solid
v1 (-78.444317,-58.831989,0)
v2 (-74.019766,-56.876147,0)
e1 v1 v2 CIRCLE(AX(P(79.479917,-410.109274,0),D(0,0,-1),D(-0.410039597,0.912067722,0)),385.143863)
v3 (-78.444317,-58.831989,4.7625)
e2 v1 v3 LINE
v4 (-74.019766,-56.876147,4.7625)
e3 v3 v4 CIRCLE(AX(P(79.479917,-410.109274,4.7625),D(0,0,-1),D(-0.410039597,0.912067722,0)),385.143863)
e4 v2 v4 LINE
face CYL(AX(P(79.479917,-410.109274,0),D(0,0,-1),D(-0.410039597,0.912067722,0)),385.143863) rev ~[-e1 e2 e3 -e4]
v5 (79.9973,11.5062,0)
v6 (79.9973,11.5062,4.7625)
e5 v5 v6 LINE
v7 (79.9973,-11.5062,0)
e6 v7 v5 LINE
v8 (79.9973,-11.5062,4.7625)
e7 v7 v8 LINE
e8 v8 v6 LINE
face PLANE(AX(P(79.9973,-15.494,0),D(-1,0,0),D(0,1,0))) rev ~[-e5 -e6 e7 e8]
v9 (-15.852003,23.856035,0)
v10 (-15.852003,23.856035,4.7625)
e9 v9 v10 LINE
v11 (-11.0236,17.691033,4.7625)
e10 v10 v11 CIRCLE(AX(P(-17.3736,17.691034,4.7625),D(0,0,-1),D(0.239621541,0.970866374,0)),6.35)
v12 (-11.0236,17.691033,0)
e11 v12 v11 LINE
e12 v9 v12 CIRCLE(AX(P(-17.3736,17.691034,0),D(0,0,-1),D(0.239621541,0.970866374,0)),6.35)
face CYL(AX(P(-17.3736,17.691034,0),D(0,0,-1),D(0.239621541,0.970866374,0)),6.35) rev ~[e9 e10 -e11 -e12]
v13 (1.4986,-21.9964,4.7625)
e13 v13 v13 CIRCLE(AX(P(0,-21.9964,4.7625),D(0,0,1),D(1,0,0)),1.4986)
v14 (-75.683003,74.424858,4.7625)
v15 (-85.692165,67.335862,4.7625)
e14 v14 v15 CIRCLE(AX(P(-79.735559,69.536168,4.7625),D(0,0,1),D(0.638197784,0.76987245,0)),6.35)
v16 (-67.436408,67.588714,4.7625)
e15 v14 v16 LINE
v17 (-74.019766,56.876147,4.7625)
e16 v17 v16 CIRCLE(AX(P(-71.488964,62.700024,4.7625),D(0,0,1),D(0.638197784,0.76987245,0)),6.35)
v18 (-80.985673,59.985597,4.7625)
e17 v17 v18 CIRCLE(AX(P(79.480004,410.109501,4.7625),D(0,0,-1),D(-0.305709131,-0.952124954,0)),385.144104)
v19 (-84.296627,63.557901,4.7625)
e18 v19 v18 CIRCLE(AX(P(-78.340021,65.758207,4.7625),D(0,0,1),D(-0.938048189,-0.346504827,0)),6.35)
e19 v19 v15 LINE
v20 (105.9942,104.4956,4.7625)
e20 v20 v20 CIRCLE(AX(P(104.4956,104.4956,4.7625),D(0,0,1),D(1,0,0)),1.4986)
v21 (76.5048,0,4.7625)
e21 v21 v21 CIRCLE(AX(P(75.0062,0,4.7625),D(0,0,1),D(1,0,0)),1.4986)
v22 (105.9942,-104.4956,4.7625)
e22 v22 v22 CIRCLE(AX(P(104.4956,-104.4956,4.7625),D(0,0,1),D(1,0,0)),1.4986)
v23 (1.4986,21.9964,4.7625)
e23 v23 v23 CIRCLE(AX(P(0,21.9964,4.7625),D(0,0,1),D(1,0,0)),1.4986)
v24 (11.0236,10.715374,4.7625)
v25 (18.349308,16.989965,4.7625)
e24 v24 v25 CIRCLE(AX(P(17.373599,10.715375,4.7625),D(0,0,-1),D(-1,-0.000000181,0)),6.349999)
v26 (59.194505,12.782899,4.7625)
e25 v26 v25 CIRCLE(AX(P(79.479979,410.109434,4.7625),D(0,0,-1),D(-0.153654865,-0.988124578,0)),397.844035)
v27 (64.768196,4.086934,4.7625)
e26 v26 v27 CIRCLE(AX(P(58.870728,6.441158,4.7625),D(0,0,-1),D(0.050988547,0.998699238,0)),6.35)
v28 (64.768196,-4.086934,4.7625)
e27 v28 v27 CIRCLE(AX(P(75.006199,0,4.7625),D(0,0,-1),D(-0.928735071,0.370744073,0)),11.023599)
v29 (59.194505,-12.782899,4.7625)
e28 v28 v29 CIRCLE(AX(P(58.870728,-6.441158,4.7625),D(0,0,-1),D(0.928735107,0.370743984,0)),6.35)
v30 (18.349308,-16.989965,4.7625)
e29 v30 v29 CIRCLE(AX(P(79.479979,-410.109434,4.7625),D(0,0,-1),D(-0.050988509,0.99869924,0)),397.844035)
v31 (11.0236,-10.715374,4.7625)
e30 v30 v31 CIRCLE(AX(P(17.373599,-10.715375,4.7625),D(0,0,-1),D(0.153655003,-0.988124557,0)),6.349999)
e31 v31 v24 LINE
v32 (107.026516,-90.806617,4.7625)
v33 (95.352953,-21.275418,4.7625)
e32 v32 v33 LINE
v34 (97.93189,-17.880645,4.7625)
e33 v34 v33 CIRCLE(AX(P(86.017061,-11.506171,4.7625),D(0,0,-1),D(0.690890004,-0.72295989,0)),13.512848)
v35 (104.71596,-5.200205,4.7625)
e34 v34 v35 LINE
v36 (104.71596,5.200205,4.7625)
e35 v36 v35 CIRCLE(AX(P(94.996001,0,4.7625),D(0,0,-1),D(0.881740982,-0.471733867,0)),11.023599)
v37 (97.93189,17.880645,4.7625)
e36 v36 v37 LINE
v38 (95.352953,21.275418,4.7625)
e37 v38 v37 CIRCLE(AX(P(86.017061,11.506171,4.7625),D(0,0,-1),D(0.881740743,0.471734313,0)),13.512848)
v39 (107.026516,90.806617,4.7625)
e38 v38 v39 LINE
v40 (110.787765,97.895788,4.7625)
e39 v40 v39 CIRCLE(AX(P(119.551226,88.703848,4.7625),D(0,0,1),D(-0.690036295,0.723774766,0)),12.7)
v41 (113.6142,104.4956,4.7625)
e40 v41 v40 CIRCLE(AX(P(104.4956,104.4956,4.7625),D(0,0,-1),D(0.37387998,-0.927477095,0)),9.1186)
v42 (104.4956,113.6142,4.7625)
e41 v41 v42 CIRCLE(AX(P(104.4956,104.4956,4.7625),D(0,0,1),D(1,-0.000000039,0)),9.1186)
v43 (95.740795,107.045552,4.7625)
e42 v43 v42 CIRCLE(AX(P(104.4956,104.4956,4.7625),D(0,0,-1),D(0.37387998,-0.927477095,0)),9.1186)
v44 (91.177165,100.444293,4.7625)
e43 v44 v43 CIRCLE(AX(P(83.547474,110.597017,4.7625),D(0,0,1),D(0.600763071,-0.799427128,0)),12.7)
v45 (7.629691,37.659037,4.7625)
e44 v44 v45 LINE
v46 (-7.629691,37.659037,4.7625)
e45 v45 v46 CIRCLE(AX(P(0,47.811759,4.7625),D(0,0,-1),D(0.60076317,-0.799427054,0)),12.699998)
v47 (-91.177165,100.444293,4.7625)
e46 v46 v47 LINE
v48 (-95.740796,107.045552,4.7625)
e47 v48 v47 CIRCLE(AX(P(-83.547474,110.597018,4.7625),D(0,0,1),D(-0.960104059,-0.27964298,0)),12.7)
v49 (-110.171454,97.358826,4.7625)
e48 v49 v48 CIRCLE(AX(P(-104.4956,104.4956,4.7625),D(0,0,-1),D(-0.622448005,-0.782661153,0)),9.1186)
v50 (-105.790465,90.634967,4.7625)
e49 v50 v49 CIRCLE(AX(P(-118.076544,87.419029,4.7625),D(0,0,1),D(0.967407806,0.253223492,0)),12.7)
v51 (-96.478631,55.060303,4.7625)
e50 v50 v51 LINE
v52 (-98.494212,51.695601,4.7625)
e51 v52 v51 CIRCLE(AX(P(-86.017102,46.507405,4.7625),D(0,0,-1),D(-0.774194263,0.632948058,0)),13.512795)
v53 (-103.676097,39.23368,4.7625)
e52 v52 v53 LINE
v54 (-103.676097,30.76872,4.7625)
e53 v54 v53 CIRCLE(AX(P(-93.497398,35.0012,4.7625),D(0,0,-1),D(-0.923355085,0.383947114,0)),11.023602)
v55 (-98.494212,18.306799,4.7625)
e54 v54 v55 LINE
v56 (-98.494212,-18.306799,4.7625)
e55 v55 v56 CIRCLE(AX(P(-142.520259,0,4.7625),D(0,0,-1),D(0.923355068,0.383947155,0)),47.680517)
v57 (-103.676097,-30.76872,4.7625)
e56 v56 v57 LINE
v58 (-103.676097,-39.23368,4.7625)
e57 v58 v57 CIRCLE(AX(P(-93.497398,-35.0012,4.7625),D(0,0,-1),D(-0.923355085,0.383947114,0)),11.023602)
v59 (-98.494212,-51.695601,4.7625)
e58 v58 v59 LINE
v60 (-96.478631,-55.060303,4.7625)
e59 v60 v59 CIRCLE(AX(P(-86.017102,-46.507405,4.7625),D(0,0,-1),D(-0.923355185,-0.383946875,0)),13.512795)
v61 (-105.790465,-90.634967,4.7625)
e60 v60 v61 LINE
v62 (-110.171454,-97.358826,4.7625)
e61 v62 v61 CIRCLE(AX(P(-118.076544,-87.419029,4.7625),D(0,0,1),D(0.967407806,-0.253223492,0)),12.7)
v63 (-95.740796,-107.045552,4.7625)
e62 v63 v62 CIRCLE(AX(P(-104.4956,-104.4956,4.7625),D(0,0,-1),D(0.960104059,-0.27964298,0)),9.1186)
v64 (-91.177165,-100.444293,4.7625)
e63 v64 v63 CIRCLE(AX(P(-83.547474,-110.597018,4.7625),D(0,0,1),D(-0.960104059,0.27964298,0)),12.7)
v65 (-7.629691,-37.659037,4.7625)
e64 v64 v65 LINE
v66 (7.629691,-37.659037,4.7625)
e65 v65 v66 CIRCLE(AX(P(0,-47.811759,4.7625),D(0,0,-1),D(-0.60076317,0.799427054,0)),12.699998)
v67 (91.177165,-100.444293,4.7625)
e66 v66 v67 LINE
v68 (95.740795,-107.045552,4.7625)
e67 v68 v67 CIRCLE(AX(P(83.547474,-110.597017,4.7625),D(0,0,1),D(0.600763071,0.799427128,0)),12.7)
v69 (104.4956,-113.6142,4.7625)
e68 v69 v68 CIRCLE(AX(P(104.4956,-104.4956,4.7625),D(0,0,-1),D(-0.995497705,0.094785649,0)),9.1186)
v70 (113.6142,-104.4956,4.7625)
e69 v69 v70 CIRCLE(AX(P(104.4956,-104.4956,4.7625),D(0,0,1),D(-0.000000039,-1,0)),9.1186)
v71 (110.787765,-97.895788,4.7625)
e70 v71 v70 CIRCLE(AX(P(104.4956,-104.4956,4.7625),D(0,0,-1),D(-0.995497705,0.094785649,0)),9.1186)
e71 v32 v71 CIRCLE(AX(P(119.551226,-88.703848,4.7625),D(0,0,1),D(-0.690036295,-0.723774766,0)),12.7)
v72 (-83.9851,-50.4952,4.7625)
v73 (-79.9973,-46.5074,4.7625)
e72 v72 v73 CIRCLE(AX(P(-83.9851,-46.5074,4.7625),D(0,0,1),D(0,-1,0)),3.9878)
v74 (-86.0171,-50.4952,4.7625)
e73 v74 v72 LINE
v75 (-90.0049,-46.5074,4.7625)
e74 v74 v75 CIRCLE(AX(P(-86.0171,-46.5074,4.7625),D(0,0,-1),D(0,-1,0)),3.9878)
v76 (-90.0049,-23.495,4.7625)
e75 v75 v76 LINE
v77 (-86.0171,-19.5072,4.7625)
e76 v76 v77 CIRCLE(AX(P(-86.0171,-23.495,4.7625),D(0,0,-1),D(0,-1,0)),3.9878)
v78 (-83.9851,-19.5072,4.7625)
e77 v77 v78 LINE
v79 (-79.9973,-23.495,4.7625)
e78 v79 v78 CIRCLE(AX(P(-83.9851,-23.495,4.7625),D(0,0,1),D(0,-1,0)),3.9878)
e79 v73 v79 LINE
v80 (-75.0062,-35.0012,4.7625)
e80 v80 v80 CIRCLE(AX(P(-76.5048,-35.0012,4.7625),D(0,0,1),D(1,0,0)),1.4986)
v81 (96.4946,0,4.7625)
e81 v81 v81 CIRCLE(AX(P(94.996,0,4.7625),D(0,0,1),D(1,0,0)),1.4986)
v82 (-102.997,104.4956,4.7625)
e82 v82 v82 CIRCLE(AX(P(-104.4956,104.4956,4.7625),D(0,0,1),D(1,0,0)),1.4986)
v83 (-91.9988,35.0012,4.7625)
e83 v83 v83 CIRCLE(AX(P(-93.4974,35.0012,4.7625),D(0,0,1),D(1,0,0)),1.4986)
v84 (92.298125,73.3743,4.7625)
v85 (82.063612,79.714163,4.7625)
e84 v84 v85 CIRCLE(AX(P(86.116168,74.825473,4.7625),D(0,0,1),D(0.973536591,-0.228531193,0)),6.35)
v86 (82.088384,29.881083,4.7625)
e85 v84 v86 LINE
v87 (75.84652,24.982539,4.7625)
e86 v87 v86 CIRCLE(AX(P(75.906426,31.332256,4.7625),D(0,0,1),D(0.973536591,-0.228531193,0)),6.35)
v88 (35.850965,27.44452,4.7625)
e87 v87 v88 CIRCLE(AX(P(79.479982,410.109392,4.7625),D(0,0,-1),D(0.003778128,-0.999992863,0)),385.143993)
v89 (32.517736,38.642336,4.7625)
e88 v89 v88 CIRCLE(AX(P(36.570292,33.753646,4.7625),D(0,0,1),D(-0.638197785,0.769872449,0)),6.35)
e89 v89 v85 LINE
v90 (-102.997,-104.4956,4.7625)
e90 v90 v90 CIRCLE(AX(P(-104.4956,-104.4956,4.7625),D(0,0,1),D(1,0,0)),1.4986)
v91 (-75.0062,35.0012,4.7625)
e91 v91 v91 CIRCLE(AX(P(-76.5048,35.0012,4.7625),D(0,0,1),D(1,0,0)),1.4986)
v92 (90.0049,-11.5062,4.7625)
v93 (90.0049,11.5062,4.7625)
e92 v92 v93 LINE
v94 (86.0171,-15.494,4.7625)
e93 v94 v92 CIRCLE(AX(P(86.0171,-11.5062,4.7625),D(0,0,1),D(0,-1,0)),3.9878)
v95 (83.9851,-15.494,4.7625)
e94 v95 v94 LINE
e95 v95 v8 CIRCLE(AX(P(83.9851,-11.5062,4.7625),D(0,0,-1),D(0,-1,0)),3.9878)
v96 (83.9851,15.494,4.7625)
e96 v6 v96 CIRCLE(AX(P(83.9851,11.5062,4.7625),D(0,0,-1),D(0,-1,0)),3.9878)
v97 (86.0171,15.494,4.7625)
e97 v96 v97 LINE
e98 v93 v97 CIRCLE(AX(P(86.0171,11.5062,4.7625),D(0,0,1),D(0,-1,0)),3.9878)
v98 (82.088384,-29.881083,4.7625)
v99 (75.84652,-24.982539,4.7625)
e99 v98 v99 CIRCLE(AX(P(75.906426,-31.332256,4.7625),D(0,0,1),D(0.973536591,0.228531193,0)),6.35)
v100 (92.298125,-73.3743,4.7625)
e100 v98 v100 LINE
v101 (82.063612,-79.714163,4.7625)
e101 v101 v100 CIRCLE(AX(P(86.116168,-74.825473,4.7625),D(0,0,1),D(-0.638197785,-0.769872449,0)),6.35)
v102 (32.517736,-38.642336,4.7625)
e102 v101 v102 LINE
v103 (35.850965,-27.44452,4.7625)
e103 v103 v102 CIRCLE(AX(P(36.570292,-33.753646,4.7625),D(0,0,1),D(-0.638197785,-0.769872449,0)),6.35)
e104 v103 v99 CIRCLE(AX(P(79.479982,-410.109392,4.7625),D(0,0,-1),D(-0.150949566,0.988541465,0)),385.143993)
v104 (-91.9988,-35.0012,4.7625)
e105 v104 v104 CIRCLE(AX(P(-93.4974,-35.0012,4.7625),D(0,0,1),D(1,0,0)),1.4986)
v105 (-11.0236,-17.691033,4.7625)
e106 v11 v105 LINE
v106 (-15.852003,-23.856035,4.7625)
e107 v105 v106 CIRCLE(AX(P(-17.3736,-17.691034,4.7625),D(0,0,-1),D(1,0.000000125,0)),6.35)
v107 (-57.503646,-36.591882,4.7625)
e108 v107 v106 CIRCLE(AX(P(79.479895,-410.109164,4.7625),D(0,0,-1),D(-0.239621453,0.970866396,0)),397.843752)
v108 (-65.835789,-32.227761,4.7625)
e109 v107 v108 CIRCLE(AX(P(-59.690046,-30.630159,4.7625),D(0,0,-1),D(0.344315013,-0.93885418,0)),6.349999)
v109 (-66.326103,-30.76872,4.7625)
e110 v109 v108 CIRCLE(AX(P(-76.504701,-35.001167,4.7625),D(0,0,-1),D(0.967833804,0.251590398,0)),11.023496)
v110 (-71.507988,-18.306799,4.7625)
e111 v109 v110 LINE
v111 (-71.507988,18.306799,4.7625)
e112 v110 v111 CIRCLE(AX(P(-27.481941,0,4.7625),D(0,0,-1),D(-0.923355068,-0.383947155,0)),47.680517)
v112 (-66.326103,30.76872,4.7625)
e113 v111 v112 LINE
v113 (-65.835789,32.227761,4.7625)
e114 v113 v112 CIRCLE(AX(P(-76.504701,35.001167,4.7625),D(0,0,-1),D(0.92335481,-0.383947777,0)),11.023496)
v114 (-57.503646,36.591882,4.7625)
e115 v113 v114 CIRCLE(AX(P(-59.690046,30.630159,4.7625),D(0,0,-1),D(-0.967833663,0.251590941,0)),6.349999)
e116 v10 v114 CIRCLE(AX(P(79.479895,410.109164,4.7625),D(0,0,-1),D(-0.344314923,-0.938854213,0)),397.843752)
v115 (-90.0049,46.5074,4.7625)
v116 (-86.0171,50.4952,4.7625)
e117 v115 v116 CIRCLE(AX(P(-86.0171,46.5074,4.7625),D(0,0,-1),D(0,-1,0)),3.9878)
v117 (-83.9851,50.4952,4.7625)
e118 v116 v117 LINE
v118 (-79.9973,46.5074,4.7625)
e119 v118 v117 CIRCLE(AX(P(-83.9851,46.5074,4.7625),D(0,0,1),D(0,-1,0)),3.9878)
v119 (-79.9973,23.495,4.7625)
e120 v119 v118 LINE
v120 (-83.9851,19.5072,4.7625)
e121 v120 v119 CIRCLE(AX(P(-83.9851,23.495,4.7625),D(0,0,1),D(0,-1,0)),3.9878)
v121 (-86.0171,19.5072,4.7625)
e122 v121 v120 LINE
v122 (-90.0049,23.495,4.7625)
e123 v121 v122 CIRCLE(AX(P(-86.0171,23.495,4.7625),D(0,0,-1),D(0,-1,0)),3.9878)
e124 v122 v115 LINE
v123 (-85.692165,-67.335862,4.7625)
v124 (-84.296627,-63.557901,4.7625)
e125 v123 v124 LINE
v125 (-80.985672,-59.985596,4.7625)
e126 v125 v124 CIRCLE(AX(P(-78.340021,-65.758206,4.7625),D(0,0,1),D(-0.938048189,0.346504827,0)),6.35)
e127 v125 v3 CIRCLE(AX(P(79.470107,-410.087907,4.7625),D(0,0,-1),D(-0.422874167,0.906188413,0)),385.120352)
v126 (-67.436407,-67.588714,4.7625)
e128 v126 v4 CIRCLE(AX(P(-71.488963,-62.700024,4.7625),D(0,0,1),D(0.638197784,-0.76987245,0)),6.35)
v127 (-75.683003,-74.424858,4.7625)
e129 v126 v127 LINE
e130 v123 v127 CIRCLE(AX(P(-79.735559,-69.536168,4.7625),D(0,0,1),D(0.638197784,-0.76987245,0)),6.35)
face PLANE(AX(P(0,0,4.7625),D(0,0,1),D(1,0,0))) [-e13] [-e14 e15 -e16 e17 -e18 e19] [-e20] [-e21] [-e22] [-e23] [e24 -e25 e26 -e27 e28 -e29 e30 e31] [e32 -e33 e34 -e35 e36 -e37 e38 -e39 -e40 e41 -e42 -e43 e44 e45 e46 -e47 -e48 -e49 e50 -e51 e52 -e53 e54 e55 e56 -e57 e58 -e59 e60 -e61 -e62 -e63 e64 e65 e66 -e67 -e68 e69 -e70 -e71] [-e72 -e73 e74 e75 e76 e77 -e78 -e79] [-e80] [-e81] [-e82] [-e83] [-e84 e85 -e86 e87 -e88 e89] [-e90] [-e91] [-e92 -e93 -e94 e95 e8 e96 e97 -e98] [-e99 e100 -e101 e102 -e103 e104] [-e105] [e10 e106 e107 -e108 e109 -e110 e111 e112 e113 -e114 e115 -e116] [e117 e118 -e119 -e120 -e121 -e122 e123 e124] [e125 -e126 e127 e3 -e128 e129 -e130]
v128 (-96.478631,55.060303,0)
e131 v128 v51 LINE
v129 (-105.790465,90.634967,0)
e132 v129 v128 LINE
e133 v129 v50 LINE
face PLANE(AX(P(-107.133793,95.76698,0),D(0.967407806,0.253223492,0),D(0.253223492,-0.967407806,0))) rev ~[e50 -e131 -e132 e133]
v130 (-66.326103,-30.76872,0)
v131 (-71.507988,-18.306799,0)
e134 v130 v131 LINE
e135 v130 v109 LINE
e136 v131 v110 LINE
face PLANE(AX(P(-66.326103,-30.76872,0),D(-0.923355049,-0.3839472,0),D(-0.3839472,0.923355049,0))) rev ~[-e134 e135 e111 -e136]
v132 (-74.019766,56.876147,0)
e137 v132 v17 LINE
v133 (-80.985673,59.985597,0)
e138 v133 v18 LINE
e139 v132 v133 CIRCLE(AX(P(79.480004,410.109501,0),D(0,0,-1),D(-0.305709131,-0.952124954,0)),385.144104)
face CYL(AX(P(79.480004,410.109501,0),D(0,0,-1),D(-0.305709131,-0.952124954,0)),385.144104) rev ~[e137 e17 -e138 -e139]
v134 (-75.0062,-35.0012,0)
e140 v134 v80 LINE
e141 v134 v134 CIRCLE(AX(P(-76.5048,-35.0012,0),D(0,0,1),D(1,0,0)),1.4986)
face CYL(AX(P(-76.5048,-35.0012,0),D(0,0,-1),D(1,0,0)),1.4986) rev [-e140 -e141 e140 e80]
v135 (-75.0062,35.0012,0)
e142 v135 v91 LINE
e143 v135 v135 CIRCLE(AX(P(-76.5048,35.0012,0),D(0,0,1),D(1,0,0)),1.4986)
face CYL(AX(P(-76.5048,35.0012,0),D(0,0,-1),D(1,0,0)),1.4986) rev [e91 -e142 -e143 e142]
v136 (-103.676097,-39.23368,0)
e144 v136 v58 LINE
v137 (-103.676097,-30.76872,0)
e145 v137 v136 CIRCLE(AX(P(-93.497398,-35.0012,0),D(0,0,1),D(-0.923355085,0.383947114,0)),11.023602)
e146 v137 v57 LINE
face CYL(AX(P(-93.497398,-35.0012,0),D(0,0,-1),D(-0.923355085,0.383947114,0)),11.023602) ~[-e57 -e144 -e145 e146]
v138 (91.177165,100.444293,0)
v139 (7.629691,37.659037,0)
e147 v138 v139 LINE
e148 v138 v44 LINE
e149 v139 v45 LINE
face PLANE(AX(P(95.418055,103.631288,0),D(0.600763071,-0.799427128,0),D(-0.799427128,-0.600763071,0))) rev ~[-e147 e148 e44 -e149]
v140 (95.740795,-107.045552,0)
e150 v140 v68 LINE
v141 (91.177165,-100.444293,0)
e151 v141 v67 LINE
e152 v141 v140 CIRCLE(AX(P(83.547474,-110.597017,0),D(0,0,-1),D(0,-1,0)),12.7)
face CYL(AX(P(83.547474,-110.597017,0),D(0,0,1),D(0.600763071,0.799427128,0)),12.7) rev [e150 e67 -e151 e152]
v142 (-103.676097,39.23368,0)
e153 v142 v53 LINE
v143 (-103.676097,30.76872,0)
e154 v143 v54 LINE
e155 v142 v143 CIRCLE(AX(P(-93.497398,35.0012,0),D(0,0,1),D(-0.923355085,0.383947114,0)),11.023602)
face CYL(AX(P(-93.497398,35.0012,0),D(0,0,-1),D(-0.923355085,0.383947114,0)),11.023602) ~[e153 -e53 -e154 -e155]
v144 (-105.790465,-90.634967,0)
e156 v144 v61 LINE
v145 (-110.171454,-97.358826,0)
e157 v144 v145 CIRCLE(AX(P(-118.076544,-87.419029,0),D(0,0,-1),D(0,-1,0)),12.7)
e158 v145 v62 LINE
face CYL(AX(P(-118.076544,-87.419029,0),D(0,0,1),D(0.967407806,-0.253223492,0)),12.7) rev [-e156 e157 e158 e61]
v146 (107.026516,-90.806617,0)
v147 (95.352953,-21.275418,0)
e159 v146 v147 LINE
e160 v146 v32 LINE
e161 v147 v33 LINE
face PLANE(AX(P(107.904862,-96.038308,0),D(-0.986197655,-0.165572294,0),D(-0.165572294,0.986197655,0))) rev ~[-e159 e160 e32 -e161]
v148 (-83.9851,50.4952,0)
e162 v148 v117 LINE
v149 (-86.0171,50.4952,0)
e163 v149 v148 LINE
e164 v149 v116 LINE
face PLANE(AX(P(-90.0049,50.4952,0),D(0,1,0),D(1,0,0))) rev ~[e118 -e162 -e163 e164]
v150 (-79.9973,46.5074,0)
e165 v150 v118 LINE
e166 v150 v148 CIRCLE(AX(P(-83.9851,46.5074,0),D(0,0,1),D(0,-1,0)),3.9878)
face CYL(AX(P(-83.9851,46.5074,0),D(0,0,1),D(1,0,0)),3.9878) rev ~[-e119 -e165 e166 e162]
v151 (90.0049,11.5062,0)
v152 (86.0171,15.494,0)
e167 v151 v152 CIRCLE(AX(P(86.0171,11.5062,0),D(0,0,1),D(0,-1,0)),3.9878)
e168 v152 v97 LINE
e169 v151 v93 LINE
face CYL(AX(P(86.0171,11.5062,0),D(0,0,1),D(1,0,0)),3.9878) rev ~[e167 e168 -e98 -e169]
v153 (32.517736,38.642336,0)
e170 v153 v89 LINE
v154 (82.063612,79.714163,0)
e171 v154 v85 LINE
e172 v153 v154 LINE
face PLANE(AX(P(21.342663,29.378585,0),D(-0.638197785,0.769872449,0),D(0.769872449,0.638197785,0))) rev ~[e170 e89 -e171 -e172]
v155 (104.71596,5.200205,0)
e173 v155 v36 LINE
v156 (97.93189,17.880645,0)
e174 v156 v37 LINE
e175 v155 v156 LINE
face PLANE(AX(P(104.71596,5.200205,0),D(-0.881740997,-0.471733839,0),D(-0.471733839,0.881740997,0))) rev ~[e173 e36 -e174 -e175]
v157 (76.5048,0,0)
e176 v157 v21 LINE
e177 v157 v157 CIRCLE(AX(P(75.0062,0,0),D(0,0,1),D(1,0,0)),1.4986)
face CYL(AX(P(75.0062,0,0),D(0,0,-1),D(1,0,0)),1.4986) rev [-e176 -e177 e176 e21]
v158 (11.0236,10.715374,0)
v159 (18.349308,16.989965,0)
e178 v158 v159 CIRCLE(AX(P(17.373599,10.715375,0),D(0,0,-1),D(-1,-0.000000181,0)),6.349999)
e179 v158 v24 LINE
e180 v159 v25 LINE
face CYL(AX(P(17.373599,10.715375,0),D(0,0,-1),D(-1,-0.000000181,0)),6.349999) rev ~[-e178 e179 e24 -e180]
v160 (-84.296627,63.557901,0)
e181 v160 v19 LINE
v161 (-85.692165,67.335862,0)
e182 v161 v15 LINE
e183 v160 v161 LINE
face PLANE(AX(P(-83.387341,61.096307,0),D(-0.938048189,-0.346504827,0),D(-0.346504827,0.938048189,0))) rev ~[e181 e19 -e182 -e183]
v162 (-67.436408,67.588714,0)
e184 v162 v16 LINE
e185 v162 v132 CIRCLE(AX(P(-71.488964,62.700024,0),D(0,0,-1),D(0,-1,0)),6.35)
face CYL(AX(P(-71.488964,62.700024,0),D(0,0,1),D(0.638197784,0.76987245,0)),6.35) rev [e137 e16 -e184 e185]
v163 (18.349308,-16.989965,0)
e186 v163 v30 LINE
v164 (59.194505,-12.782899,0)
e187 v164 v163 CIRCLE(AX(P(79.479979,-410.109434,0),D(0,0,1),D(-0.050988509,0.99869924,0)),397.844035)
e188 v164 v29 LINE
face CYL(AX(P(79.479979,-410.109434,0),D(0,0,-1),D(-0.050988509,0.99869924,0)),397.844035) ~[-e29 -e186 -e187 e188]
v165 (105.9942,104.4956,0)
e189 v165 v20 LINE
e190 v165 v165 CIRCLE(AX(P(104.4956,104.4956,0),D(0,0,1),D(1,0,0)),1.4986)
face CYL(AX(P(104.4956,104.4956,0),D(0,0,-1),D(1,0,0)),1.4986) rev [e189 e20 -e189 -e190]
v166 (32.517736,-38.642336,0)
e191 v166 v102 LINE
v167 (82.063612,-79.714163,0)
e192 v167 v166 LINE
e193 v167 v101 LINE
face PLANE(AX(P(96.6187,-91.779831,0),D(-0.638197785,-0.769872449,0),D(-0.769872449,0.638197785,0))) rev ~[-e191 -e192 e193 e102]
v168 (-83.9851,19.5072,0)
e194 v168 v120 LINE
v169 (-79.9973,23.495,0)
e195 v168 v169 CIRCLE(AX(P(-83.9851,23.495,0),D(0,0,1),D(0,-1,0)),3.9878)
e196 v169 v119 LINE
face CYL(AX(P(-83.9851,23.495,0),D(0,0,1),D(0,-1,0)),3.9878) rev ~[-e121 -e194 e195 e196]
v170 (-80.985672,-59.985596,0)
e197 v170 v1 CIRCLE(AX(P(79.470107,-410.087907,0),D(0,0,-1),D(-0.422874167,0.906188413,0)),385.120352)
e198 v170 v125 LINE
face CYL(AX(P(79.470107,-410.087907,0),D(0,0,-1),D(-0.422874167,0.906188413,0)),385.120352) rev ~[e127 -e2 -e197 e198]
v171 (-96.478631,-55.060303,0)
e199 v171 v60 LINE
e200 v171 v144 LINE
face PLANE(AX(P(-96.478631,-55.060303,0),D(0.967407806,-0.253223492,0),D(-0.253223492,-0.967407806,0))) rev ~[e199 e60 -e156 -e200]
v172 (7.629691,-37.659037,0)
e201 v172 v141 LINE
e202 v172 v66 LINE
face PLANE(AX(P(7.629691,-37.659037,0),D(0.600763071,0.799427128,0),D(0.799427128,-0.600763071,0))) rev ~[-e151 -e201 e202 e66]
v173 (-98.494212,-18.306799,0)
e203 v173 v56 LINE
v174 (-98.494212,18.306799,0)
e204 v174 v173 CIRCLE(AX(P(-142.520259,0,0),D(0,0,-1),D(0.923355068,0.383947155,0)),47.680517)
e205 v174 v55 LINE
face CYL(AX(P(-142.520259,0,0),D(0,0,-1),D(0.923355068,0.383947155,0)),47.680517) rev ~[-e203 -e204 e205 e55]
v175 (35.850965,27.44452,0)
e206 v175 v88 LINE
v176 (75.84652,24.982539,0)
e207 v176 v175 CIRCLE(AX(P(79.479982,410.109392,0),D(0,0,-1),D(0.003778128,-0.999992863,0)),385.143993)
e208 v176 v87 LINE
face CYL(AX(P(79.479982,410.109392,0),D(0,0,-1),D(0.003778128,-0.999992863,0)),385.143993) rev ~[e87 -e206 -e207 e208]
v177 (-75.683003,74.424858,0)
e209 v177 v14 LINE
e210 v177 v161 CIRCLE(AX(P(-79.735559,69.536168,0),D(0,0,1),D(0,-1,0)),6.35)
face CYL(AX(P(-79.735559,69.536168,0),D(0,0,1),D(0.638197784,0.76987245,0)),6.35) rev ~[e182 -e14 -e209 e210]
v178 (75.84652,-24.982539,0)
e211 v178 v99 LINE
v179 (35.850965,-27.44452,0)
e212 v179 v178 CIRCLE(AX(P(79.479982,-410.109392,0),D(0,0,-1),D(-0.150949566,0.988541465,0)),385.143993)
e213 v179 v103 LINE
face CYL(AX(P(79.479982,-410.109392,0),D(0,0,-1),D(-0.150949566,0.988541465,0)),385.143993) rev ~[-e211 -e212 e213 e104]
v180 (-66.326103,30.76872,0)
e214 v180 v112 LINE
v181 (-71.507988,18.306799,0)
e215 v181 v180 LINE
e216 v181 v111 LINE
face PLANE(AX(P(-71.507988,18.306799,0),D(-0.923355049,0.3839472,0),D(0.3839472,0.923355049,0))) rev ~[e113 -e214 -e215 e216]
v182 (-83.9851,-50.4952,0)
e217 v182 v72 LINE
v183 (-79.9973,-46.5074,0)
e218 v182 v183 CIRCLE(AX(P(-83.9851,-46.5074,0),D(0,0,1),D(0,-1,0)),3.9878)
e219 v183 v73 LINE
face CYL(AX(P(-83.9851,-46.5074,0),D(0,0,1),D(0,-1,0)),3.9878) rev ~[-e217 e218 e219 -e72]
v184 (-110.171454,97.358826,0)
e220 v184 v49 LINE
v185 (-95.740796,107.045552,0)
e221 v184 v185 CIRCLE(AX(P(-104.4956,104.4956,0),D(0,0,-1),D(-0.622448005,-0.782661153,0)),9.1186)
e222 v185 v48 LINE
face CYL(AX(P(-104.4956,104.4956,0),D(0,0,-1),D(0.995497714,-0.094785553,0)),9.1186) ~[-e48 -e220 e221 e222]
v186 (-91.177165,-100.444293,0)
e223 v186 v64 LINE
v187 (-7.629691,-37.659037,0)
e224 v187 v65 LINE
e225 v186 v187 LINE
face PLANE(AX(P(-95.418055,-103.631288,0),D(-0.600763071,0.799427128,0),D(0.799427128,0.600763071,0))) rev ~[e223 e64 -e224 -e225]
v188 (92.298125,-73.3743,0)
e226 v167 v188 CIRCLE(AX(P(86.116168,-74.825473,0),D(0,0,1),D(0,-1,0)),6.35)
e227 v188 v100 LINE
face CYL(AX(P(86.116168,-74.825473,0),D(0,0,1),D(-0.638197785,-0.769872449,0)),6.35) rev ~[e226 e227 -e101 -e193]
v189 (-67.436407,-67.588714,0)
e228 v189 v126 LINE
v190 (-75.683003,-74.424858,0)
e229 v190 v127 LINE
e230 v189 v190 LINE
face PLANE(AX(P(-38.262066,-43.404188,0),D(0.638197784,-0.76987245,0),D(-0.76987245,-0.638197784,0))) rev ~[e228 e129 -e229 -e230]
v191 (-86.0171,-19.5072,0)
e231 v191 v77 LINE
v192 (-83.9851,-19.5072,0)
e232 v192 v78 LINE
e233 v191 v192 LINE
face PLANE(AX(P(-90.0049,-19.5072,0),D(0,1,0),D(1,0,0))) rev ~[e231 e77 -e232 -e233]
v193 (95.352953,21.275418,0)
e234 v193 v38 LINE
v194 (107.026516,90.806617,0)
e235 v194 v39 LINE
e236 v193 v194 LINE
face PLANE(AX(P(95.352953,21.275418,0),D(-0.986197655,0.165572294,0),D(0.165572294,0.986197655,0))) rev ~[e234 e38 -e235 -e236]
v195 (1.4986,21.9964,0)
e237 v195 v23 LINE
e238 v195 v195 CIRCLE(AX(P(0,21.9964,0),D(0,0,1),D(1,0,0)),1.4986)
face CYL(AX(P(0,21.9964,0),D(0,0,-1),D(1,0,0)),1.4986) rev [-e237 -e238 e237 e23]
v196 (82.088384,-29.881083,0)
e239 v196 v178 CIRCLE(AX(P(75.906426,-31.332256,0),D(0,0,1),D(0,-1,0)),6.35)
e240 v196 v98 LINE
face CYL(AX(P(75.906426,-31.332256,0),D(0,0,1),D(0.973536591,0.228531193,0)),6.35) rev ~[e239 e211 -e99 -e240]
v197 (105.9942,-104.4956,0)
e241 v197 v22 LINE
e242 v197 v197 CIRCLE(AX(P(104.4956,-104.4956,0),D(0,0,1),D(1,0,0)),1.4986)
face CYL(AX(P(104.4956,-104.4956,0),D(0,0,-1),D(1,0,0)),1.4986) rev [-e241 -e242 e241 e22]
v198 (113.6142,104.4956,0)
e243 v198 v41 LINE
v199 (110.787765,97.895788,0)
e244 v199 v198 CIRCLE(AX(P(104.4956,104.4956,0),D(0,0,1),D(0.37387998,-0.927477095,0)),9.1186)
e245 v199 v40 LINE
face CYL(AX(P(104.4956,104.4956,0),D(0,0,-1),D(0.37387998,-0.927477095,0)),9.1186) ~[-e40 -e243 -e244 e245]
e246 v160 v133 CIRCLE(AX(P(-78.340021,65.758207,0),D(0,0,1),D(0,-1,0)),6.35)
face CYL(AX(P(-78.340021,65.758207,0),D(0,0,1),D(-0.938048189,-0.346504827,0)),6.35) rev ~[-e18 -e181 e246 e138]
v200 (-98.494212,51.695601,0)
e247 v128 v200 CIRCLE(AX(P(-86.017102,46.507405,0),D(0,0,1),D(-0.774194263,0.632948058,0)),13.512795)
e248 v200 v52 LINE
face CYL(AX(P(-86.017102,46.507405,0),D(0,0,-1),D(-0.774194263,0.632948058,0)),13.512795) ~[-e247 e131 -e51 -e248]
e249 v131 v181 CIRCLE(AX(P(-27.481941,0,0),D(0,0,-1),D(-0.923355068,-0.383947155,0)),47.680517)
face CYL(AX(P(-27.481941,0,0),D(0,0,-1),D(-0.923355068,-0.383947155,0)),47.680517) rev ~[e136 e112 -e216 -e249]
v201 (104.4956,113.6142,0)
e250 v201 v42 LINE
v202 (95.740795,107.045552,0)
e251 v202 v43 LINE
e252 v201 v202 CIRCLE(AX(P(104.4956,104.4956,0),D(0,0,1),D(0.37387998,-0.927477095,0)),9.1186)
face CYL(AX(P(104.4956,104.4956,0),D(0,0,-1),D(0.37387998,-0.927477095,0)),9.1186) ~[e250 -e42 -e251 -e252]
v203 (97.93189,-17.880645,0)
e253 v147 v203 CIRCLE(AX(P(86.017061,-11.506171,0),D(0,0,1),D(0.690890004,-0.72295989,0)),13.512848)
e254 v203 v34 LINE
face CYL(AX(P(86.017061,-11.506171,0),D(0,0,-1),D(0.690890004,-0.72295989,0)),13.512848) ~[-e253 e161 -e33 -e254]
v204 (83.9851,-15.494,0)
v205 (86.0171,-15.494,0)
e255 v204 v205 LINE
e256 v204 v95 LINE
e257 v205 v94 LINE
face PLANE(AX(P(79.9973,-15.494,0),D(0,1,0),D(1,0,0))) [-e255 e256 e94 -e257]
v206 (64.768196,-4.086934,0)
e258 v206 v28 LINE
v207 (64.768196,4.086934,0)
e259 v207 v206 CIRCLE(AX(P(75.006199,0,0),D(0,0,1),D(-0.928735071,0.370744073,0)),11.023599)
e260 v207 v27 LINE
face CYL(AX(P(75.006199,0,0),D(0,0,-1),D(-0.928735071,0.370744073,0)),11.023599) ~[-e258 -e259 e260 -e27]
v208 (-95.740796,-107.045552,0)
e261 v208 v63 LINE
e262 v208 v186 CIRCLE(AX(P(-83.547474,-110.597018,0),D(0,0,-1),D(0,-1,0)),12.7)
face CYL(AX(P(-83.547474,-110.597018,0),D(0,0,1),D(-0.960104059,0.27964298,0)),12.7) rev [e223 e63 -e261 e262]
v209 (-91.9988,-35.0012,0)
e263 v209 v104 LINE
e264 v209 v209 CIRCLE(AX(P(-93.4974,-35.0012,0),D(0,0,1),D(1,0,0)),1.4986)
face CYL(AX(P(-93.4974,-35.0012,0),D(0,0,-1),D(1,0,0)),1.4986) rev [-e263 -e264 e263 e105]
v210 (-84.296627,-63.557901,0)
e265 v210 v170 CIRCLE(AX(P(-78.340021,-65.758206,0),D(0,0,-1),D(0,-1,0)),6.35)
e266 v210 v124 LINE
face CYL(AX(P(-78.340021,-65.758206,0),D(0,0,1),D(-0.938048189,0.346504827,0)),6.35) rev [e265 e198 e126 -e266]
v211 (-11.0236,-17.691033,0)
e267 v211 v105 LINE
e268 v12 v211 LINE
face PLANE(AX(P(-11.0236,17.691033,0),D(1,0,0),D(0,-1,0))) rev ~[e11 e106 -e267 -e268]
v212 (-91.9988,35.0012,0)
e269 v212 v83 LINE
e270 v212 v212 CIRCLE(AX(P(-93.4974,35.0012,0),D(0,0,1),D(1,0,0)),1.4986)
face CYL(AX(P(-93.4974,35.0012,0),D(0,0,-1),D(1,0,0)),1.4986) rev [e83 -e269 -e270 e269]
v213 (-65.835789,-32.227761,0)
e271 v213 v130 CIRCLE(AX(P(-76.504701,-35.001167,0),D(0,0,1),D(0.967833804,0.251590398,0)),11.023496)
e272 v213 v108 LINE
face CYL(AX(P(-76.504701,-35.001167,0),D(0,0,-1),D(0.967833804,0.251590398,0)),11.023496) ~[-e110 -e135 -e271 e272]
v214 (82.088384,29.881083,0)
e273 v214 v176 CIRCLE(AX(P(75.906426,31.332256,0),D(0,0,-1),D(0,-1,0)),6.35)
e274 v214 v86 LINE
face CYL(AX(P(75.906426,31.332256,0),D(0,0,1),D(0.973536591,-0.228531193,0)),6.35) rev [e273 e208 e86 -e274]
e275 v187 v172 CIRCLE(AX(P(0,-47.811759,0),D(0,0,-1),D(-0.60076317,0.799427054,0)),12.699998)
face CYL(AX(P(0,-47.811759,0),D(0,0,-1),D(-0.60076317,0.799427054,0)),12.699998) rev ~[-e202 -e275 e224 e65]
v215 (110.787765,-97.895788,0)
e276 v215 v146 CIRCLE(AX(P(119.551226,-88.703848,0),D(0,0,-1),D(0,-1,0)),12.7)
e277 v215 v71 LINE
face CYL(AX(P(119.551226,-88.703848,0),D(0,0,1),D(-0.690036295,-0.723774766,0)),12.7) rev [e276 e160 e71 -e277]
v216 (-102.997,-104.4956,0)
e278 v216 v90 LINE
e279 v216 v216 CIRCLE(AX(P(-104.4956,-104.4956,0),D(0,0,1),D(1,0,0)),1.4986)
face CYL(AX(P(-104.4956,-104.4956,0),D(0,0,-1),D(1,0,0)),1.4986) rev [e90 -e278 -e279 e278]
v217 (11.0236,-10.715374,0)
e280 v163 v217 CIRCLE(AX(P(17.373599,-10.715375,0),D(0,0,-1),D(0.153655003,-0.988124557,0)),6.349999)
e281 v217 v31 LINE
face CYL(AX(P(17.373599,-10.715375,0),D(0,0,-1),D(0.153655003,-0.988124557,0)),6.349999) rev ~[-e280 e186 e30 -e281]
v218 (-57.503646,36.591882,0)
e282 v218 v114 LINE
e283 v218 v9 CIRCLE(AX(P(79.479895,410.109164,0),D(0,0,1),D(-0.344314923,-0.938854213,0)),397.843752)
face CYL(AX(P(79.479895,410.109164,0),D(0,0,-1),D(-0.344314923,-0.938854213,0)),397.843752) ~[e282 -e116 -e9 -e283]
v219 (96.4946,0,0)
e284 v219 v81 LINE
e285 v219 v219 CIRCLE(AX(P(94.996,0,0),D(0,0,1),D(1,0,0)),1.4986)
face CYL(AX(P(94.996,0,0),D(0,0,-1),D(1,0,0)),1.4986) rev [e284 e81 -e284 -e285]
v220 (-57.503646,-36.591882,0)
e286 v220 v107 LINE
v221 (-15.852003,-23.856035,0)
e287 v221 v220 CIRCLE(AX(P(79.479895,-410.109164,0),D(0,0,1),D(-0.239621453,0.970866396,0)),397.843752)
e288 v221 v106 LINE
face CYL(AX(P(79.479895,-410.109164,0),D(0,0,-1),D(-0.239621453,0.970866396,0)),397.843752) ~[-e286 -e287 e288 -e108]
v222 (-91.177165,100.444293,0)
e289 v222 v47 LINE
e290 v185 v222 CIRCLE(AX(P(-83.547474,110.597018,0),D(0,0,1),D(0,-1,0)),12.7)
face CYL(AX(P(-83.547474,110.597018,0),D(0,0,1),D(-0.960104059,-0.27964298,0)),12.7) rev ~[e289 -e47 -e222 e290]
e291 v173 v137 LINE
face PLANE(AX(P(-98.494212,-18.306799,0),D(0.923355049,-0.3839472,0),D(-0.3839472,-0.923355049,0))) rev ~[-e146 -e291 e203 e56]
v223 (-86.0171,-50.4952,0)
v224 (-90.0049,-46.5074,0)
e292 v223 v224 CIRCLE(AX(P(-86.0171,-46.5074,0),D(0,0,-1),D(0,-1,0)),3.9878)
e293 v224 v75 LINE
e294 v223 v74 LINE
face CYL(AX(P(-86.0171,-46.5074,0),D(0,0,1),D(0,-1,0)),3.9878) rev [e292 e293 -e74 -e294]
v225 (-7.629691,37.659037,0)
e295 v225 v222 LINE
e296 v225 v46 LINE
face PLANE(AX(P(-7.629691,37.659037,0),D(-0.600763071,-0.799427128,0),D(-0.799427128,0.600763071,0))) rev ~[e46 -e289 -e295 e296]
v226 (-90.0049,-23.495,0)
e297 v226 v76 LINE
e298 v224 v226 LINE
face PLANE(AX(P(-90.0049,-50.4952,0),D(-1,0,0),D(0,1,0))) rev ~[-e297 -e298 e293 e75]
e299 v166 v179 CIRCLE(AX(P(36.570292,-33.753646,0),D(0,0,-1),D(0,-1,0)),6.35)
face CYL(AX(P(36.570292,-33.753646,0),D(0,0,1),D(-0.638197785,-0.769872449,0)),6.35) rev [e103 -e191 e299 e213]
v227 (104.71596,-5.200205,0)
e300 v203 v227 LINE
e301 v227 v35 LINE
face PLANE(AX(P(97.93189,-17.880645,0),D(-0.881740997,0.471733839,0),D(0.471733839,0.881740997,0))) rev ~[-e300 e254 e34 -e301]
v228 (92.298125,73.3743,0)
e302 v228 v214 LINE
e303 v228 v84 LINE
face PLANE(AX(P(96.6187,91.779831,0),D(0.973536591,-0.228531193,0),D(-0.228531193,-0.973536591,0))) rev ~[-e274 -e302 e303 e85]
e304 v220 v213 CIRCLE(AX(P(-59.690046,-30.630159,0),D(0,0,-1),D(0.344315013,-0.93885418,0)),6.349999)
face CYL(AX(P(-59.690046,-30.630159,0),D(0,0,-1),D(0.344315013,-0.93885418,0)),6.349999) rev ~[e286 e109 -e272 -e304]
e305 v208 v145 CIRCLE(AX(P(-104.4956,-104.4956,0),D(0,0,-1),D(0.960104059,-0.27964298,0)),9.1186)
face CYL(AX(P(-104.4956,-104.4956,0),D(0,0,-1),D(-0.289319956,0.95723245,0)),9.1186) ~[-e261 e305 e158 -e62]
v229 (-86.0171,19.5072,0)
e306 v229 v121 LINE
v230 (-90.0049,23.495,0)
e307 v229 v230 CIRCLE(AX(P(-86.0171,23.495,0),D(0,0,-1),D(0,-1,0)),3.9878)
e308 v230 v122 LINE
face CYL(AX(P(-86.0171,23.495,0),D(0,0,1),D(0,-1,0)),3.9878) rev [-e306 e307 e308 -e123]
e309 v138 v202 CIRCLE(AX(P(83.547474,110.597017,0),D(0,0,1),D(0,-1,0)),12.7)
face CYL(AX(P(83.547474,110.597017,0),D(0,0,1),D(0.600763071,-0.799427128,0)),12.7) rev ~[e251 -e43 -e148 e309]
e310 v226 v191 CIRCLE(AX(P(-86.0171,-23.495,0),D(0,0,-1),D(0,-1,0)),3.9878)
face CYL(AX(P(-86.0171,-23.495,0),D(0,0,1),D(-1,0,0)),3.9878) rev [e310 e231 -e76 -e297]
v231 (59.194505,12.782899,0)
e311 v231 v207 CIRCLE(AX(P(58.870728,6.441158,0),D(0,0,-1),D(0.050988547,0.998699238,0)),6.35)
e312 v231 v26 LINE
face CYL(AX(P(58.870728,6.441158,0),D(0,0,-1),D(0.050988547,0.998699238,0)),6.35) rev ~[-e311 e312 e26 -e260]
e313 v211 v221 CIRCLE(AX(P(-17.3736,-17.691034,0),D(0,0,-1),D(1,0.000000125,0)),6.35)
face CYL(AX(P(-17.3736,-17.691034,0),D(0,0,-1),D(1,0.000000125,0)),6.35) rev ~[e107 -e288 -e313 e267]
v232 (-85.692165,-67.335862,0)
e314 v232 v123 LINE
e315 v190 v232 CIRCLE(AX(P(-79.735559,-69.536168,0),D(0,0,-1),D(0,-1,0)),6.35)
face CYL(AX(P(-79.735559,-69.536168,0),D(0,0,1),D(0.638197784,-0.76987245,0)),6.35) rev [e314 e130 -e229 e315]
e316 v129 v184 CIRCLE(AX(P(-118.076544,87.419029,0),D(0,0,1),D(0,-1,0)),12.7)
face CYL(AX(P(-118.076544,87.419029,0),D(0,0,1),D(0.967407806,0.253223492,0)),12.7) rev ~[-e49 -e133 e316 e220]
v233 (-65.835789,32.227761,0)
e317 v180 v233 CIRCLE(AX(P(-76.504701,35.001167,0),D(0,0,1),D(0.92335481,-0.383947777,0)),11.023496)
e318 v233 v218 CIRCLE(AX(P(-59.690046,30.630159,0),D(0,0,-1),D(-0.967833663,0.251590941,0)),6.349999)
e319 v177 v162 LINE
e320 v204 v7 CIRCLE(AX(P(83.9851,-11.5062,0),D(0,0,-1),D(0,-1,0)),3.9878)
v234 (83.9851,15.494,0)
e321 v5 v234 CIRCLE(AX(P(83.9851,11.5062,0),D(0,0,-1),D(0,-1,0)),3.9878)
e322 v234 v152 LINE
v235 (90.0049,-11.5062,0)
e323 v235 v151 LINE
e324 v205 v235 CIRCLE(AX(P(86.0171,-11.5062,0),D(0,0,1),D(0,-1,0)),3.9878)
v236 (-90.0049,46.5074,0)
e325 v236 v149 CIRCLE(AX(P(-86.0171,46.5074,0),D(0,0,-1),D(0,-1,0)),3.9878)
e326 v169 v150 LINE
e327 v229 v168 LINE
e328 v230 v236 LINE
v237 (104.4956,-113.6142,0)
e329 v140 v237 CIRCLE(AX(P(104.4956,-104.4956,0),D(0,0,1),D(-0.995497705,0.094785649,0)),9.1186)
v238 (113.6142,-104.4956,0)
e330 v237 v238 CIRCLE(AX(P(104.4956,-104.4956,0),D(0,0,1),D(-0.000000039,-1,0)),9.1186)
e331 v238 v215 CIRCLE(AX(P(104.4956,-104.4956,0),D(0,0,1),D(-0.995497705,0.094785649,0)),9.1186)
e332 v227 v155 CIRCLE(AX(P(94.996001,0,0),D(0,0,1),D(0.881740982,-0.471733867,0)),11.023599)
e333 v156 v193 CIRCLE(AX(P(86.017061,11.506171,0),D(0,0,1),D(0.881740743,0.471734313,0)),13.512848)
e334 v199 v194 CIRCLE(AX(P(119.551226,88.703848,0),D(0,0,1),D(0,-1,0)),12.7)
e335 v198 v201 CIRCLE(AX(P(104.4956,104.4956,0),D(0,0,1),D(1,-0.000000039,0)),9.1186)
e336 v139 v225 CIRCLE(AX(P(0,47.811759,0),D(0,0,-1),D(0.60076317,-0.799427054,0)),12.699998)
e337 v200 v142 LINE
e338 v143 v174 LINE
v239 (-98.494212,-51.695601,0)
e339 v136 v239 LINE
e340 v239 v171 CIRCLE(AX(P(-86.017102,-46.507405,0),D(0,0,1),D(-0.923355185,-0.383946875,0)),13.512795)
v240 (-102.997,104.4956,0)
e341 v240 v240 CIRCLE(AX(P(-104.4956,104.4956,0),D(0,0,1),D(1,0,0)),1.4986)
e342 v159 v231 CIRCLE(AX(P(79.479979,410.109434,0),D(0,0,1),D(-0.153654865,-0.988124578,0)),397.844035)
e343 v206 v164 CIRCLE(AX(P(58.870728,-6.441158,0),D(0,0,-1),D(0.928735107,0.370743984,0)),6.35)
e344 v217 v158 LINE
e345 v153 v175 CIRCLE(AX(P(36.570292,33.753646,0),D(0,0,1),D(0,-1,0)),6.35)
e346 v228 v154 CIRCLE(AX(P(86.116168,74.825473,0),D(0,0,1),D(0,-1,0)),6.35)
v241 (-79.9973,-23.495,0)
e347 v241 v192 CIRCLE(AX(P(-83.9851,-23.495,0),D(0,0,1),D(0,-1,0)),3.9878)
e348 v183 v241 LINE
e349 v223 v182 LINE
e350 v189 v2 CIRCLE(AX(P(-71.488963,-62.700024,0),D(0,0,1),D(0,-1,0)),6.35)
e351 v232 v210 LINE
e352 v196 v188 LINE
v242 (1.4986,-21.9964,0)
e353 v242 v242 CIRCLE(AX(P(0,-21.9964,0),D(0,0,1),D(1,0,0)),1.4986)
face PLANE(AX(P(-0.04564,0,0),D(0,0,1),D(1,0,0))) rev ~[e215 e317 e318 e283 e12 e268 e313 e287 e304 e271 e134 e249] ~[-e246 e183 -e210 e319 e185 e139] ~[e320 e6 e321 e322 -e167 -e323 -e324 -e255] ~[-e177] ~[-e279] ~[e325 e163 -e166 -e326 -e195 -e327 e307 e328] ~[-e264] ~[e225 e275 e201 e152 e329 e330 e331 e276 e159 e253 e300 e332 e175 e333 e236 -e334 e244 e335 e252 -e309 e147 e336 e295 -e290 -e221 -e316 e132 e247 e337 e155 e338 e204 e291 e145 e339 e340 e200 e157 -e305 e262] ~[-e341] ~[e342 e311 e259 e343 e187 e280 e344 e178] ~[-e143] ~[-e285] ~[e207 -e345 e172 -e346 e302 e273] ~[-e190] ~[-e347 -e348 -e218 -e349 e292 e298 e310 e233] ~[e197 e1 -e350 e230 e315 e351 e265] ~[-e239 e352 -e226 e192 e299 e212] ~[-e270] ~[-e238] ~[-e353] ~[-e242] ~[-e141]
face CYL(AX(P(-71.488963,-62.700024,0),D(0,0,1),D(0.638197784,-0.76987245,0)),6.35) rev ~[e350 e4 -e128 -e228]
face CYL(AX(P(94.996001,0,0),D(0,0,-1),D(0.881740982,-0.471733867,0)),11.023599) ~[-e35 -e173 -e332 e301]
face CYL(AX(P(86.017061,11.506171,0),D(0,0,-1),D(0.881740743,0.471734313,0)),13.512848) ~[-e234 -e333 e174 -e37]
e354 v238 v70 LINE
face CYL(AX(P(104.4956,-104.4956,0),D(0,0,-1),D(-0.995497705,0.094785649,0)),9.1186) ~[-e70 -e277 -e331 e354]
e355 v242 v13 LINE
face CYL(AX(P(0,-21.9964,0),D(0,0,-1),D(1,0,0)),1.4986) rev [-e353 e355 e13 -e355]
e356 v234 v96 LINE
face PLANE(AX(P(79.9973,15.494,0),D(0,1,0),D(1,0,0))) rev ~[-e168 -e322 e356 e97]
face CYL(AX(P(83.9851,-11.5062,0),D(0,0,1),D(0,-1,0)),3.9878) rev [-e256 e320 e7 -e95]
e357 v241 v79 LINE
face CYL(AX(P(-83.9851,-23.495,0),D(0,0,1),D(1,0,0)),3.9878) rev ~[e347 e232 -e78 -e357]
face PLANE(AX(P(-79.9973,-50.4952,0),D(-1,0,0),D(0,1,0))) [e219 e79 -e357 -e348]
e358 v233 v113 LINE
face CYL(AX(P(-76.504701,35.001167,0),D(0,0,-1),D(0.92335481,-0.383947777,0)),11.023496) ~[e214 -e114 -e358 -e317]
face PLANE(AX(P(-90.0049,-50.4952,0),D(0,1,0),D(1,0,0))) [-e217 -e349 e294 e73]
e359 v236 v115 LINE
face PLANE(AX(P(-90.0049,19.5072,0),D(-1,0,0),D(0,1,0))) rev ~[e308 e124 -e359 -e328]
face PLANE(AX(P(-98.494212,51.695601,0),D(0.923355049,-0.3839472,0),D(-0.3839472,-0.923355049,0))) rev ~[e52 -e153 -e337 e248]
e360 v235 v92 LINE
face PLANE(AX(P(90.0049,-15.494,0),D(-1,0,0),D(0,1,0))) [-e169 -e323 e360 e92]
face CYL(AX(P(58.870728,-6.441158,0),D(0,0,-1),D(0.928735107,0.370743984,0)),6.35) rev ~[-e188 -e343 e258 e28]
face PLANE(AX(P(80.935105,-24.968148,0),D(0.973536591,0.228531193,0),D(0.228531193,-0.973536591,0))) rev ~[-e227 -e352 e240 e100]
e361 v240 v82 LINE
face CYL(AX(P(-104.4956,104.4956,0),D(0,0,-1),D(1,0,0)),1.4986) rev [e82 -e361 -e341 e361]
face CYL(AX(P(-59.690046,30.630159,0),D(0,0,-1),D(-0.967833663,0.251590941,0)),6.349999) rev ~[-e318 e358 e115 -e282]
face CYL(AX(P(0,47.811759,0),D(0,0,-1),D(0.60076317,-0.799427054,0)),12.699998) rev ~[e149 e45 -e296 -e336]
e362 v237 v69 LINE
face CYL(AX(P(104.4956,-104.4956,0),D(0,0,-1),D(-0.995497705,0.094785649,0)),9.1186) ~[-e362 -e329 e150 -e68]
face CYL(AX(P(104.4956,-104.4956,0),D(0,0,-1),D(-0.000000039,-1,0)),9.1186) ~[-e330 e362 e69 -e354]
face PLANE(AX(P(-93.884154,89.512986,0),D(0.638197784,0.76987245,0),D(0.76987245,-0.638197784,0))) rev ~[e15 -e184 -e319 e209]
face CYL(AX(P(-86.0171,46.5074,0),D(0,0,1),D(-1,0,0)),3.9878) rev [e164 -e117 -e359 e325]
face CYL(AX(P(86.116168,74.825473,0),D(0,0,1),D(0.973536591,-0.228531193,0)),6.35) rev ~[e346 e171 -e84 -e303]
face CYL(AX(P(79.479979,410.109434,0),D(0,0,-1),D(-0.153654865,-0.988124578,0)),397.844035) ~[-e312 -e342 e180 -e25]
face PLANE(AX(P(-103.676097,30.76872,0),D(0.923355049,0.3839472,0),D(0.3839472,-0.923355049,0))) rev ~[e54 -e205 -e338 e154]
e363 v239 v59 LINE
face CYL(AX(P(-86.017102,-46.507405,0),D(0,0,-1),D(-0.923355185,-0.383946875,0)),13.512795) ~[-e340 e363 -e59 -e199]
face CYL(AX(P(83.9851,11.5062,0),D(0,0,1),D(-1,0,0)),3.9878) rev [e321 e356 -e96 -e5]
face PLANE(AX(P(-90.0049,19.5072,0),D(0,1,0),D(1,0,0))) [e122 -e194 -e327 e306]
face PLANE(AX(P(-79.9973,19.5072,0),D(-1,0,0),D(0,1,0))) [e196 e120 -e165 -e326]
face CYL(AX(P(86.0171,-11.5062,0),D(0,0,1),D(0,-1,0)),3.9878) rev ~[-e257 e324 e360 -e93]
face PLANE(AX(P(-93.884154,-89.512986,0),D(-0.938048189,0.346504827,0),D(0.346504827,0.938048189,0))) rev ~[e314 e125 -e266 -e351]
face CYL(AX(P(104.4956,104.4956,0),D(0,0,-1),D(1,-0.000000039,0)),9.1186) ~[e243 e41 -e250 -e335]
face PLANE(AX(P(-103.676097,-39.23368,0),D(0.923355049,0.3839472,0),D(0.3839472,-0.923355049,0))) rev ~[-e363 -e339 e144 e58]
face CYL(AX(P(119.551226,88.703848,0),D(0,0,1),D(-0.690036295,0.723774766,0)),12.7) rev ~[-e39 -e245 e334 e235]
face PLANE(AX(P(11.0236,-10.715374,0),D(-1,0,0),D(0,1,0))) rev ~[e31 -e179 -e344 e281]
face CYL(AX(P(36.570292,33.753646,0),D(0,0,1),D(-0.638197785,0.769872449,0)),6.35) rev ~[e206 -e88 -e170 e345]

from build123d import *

# Parameters (mm, degrees)
F0_R     = 1.4986
F0_W     = 10.0076
F0_H     = 30.988
F1_DEPTH = 4.7625
F2_R     = 3.9878
F4_DEPTH = 25.4
F5_R     = 6.35
F6_R     = 12.7


with BuildPart() as f1:
    # F0 (on Top) → F1 (new body)
    with BuildSketch(Plane.XY):
        with BuildLine():
            Line((104.4956, 113.6142), (-104.4956, 113.6142))
            ThreePointArc((-104.4956, 113.6142), (-110.943424, 110.943424), (-113.6142, 104.4956))
            Line((-113.6142, 104.4956), (-113.6142, -104.4956))
            ThreePointArc((-113.6142, -104.4956), (-110.943424, -110.943424), (-104.4956, -113.6142))
            Line((-104.4956, -113.6142), (104.4956, -113.6142))
            ThreePointArc((104.4956, -113.6142), (110.943424, -110.943424), (113.6142, -104.4956))
            Line((113.6142, -104.4956), (113.6142, 104.4956))
            ThreePointArc((113.6142, 104.4956), (110.943424, 110.943424), (104.4956, 113.6142))
        make_face()
        with Locations((-104.4956, -104.4956)):
            Circle(F0_R, mode=Mode.SUBTRACT)
        with Locations((-93.4974, -35.0012)):
            Circle(F0_R, mode=Mode.SUBTRACT)
        with Locations((-85.0011, -35.0012)):
            Rectangle(F0_W, F0_H, mode=Mode.SUBTRACT)
        with Locations((-76.5048, -35.0012)):
            Circle(F0_R, mode=Mode.SUBTRACT)
        with Locations((104.4956, -104.4956)):
            Circle(F0_R, mode=Mode.SUBTRACT)
        with Locations((0, -21.9964)):
            Circle(F0_R, mode=Mode.SUBTRACT)
        with Locations((-93.4974, 35.0012)):
            Circle(F0_R, mode=Mode.SUBTRACT)
        with Locations((-85.0011, 35.0012)):
            Rectangle(F0_W, F0_H, mode=Mode.SUBTRACT)
        with Locations((-76.5048, 35.0012)):
            Circle(F0_R, mode=Mode.SUBTRACT)
        with Locations((-104.4956, 104.4956)):
            Circle(F0_R, mode=Mode.SUBTRACT)
        with Locations((0, 21.9964)):
            Circle(F0_R, mode=Mode.SUBTRACT)
        with Locations((75.0062, 0)):
            Circle(F0_R, mode=Mode.SUBTRACT)
        with Locations((85.0011, 0)):
            Rectangle(F0_W, F0_H, mode=Mode.SUBTRACT)
        with Locations((94.996, 0)):
            Circle(F0_R, mode=Mode.SUBTRACT)
        with Locations((104.4956, 104.4956)):
            Circle(F0_R, mode=Mode.SUBTRACT)
    extrude(amount=F1_DEPTH)

    # F2
    f2_edges = [f1.edges().sort_by_distance(p)[0] for p in [
        (-79.9973, 50.4952, 2.38125),
        (-79.9973, -19.5072, 2.38125),
        (90.0049, 15.494, 2.38125),
        (79.9973, 15.494, 2.38125),
        (-90.0049, 50.4952, 2.38125),
        (-90.0049, -19.5072, 2.38125),
        (79.9973, -15.494, 2.38125),
        (-90.0049, -50.4952, 2.38125),
        (-90.0049, 19.5072, 2.38125),
        (-79.9973, -50.4952, 2.38125),
        (-79.9973, 19.5072, 2.38125),
        (90.0049, -15.494, 2.38125),
    ]]
    fillet(f2_edges, radius=F2_R)


with BuildPart() as f4:
    # F3 (on Top) → F4 (new body)
    with BuildSketch(Plane.XY):
        with BuildLine():
            Line((-98.494212, 51.695601), (-103.676097, 39.23368))
            ThreePointArc((-103.676097, 39.23368), (-104.521, 35.0012), (-103.676097, 30.76872))
            Line((-103.676097, 30.76872), (-98.494212, 18.306799))
            ThreePointArc((-98.494212, 18.306799), (-94.839742, 0), (-98.494212, -18.306799))
            Line((-98.494212, -18.306799), (-103.676097, -30.76872))
            ThreePointArc((-103.676097, -30.76872), (-104.521, -35.0012), (-103.676097, -39.23368))
            Line((-103.676097, -39.23368), (-98.494212, -51.695601))
            ThreePointArc((-98.494212, -51.695601), (-97.609151, -53.451471), (-96.478631, -55.060303))
            Line((-96.478631, -55.060303), (-107.133793, -95.76698))
            ThreePointArc((-107.133793, -95.76698), (-109.57774, -112.066644), (-95.418055, -103.631288))
            Line((-95.418055, -103.631288), (-7.629691, -37.659037))
            ThreePointArc((-7.629691, -37.659037), (0, -35.111761), (7.629691, -37.659037))
            Line((7.629691, -37.659037), (95.418055, -103.631288))
            ThreePointArc((95.418055, -103.631288), (109.233289, -112.286824), (107.904862, -96.038308))
            Line((107.904862, -96.038308), (95.352953, -21.275418))
            ThreePointArc((95.352953, -21.275418), (96.777145, -19.680378), (97.93189, -17.880645))
            Line((97.93189, -17.880645), (104.71596, -5.200205))
            ThreePointArc((104.71596, -5.200205), (106.0196, 0), (104.71596, 5.200205))
            Line((104.71596, 5.200205), (97.93189, 17.880645))
            ThreePointArc((97.93189, 17.880645), (96.777145, 19.680378), (95.352953, 21.275418))
            Line((95.352953, 21.275418), (107.904862, 96.038308))
            ThreePointArc((107.904862, 96.038308), (109.233289, 112.286824), (95.418055, 103.631288))
            Line((95.418055, 103.631288), (7.629691, 37.659037))
            ThreePointArc((7.629691, 37.659037), (0, 35.111761), (-7.629691, 37.659037))
            Line((-7.629691, 37.659037), (-95.418055, 103.631288))
            ThreePointArc((-95.418055, 103.631288), (-109.57774, 112.066644), (-107.133793, 95.76698))
            Line((-107.133793, 95.76698), (-96.478631, 55.060303))
            ThreePointArc((-96.478631, 55.060303), (-97.609151, 53.451471), (-98.494212, 51.695601))
        make_face()
        with BuildLine():
            Line((-93.884154, -89.512986), (-83.387341, -61.096307))
            ThreePointArc((-83.387341, -61.096307), (-80.919825, -59.955425), (-78.444317, -58.831989))
            ThreePointArc((-78.444317, -58.831989), (-58.568879, -50.556323), (-38.262066, -43.404188))
            Line((-38.262066, -43.404188), (-93.884154, -89.512986))
        make_face(mode=Mode.SUBTRACT)
        with BuildLine():
            Line((-71.507988, 18.306799), (-66.326103, 30.76872))
            ThreePointArc((-66.326103, 30.76872), (-66.055449, 31.489672), (-65.835789, 32.227761))
            ThreePointArc((-65.835789, 32.227761), (-62.636313, 36.255281), (-57.503646, 36.591882))
            ThreePointArc((-57.503646, 36.591882), (-36.852243, 29.653537), (-15.852003, 23.856035))
            ThreePointArc((-15.852003, 23.856035), (-12.374368, 21.606411), (-11.0236, 17.691033))
            Line((-11.0236, 17.691033), (-11.0236, -17.691033))
            ThreePointArc((-11.0236, -17.691033), (-12.374368, -21.606411), (-15.852003, -23.856035))
            ThreePointArc((-15.852003, -23.856035), (-36.852243, -29.653537), (-57.503646, -36.591882))
            ThreePointArc((-57.503646, -36.591882), (-62.636313, -36.255281), (-65.835789, -32.227761))
            ThreePointArc((-65.835789, -32.227761), (-66.055449, -31.489672), (-66.326103, -30.76872))
            Line((-66.326103, -30.76872), (-71.507988, -18.306799))
            ThreePointArc((-71.507988, -18.306799), (-75.162458, 0), (-71.507988, 18.306799))
        make_face(mode=Mode.SUBTRACT)
        with BuildLine():
            ThreePointArc((21.342663, -29.378585), (51.05322, -26.015895), (80.935105, -24.968148))
            Line((80.935105, -24.968148), (96.6187, -91.779831))
            Line((96.6187, -91.779831), (21.342663, -29.378585))
        make_face(mode=Mode.SUBTRACT)
        with BuildLine():
            ThreePointArc((59.194505, 12.782899), (64.216841, 9.867757), (64.768196, 4.086934))
            ThreePointArc((64.768196, 4.086934), (63.9826, 0), (64.768196, -4.086934))
            ThreePointArc((64.768196, -4.086934), (64.216841, -9.867757), (59.194505, -12.782899))
            ThreePointArc((59.194505, -12.782899), (38.717595, -14.359129), (18.349308, -16.989965))
            ThreePointArc((18.349308, -16.989965), (13.242816, -15.538146), (11.0236, -10.715374))
            Line((11.0236, -10.715374), (11.0236, 10.715374))
            ThreePointArc((11.0236, 10.715374), (13.242816, 15.538146), (18.349308, 16.989965))
            ThreePointArc((18.349308, 16.989965), (38.717595, 14.359129), (59.194505, 12.782899))
        make_face(mode=Mode.SUBTRACT)
        with BuildLine():
            ThreePointArc((-38.262066, 43.404188), (-61.103294, 51.539678), (-83.387341, 61.096307))
            Line((-83.387341, 61.096307), (-93.884154, 89.512986))
            Line((-93.884154, 89.512986), (-38.262066, 43.404188))
        make_face(mode=Mode.SUBTRACT)
        with BuildLine():
            ThreePointArc((80.935105, 24.968148), (51.05322, 26.015895), (21.342663, 29.378585))
            Line((21.342663, 29.378585), (96.6187, 91.779831))
            Line((96.6187, 91.779831), (80.935105, 24.968148))
        make_face(mode=Mode.SUBTRACT)
    extrude(amount=F4_DEPTH)

    # F5
    f5_edges = [f4.edges().sort_by_distance(p)[0] for p in [
        (80.935105, -24.968148, 12.7),
        (96.6187, 91.779831, 12.7),
        (-93.884154, 89.512986, 12.7),
        (-83.387341, -61.096307, 12.7),
        (21.342663, -29.378585, 12.7),
        (96.6187, -91.779831, 12.7),
        (-93.884154, -89.512986, 12.7),
        (-38.262066, -43.404188, 12.7),
        (80.935105, 24.968148, 12.7),
        (-38.262066, 43.404188, 12.7),
        (-83.387341, 61.096307, 12.7),
        (21.342663, 29.378585, 12.7),
    ]]
    fillet(f5_edges, radius=F5_R)

    # F6
    f6_edges = [f4.edges().sort_by_distance(p)[0] for p in [
        (-95.418055, 103.631288, 12.7),
        (95.418055, 103.631288, 12.7),
        (-107.133793, -95.76698, 12.7),
        (-107.133793, 95.76698, 12.7),
        (95.418055, -103.631288, 12.7),
        (-95.418055, -103.631288, 12.7),
        (107.904862, -96.038308, 12.7),
        (107.904862, 96.038308, 12.7),
    ]]
    fillet(f6_edges, radius=F6_R)

    # F7: intersect F1
    add(f1.part, mode=Mode.INTERSECT)


solid = f4.part
